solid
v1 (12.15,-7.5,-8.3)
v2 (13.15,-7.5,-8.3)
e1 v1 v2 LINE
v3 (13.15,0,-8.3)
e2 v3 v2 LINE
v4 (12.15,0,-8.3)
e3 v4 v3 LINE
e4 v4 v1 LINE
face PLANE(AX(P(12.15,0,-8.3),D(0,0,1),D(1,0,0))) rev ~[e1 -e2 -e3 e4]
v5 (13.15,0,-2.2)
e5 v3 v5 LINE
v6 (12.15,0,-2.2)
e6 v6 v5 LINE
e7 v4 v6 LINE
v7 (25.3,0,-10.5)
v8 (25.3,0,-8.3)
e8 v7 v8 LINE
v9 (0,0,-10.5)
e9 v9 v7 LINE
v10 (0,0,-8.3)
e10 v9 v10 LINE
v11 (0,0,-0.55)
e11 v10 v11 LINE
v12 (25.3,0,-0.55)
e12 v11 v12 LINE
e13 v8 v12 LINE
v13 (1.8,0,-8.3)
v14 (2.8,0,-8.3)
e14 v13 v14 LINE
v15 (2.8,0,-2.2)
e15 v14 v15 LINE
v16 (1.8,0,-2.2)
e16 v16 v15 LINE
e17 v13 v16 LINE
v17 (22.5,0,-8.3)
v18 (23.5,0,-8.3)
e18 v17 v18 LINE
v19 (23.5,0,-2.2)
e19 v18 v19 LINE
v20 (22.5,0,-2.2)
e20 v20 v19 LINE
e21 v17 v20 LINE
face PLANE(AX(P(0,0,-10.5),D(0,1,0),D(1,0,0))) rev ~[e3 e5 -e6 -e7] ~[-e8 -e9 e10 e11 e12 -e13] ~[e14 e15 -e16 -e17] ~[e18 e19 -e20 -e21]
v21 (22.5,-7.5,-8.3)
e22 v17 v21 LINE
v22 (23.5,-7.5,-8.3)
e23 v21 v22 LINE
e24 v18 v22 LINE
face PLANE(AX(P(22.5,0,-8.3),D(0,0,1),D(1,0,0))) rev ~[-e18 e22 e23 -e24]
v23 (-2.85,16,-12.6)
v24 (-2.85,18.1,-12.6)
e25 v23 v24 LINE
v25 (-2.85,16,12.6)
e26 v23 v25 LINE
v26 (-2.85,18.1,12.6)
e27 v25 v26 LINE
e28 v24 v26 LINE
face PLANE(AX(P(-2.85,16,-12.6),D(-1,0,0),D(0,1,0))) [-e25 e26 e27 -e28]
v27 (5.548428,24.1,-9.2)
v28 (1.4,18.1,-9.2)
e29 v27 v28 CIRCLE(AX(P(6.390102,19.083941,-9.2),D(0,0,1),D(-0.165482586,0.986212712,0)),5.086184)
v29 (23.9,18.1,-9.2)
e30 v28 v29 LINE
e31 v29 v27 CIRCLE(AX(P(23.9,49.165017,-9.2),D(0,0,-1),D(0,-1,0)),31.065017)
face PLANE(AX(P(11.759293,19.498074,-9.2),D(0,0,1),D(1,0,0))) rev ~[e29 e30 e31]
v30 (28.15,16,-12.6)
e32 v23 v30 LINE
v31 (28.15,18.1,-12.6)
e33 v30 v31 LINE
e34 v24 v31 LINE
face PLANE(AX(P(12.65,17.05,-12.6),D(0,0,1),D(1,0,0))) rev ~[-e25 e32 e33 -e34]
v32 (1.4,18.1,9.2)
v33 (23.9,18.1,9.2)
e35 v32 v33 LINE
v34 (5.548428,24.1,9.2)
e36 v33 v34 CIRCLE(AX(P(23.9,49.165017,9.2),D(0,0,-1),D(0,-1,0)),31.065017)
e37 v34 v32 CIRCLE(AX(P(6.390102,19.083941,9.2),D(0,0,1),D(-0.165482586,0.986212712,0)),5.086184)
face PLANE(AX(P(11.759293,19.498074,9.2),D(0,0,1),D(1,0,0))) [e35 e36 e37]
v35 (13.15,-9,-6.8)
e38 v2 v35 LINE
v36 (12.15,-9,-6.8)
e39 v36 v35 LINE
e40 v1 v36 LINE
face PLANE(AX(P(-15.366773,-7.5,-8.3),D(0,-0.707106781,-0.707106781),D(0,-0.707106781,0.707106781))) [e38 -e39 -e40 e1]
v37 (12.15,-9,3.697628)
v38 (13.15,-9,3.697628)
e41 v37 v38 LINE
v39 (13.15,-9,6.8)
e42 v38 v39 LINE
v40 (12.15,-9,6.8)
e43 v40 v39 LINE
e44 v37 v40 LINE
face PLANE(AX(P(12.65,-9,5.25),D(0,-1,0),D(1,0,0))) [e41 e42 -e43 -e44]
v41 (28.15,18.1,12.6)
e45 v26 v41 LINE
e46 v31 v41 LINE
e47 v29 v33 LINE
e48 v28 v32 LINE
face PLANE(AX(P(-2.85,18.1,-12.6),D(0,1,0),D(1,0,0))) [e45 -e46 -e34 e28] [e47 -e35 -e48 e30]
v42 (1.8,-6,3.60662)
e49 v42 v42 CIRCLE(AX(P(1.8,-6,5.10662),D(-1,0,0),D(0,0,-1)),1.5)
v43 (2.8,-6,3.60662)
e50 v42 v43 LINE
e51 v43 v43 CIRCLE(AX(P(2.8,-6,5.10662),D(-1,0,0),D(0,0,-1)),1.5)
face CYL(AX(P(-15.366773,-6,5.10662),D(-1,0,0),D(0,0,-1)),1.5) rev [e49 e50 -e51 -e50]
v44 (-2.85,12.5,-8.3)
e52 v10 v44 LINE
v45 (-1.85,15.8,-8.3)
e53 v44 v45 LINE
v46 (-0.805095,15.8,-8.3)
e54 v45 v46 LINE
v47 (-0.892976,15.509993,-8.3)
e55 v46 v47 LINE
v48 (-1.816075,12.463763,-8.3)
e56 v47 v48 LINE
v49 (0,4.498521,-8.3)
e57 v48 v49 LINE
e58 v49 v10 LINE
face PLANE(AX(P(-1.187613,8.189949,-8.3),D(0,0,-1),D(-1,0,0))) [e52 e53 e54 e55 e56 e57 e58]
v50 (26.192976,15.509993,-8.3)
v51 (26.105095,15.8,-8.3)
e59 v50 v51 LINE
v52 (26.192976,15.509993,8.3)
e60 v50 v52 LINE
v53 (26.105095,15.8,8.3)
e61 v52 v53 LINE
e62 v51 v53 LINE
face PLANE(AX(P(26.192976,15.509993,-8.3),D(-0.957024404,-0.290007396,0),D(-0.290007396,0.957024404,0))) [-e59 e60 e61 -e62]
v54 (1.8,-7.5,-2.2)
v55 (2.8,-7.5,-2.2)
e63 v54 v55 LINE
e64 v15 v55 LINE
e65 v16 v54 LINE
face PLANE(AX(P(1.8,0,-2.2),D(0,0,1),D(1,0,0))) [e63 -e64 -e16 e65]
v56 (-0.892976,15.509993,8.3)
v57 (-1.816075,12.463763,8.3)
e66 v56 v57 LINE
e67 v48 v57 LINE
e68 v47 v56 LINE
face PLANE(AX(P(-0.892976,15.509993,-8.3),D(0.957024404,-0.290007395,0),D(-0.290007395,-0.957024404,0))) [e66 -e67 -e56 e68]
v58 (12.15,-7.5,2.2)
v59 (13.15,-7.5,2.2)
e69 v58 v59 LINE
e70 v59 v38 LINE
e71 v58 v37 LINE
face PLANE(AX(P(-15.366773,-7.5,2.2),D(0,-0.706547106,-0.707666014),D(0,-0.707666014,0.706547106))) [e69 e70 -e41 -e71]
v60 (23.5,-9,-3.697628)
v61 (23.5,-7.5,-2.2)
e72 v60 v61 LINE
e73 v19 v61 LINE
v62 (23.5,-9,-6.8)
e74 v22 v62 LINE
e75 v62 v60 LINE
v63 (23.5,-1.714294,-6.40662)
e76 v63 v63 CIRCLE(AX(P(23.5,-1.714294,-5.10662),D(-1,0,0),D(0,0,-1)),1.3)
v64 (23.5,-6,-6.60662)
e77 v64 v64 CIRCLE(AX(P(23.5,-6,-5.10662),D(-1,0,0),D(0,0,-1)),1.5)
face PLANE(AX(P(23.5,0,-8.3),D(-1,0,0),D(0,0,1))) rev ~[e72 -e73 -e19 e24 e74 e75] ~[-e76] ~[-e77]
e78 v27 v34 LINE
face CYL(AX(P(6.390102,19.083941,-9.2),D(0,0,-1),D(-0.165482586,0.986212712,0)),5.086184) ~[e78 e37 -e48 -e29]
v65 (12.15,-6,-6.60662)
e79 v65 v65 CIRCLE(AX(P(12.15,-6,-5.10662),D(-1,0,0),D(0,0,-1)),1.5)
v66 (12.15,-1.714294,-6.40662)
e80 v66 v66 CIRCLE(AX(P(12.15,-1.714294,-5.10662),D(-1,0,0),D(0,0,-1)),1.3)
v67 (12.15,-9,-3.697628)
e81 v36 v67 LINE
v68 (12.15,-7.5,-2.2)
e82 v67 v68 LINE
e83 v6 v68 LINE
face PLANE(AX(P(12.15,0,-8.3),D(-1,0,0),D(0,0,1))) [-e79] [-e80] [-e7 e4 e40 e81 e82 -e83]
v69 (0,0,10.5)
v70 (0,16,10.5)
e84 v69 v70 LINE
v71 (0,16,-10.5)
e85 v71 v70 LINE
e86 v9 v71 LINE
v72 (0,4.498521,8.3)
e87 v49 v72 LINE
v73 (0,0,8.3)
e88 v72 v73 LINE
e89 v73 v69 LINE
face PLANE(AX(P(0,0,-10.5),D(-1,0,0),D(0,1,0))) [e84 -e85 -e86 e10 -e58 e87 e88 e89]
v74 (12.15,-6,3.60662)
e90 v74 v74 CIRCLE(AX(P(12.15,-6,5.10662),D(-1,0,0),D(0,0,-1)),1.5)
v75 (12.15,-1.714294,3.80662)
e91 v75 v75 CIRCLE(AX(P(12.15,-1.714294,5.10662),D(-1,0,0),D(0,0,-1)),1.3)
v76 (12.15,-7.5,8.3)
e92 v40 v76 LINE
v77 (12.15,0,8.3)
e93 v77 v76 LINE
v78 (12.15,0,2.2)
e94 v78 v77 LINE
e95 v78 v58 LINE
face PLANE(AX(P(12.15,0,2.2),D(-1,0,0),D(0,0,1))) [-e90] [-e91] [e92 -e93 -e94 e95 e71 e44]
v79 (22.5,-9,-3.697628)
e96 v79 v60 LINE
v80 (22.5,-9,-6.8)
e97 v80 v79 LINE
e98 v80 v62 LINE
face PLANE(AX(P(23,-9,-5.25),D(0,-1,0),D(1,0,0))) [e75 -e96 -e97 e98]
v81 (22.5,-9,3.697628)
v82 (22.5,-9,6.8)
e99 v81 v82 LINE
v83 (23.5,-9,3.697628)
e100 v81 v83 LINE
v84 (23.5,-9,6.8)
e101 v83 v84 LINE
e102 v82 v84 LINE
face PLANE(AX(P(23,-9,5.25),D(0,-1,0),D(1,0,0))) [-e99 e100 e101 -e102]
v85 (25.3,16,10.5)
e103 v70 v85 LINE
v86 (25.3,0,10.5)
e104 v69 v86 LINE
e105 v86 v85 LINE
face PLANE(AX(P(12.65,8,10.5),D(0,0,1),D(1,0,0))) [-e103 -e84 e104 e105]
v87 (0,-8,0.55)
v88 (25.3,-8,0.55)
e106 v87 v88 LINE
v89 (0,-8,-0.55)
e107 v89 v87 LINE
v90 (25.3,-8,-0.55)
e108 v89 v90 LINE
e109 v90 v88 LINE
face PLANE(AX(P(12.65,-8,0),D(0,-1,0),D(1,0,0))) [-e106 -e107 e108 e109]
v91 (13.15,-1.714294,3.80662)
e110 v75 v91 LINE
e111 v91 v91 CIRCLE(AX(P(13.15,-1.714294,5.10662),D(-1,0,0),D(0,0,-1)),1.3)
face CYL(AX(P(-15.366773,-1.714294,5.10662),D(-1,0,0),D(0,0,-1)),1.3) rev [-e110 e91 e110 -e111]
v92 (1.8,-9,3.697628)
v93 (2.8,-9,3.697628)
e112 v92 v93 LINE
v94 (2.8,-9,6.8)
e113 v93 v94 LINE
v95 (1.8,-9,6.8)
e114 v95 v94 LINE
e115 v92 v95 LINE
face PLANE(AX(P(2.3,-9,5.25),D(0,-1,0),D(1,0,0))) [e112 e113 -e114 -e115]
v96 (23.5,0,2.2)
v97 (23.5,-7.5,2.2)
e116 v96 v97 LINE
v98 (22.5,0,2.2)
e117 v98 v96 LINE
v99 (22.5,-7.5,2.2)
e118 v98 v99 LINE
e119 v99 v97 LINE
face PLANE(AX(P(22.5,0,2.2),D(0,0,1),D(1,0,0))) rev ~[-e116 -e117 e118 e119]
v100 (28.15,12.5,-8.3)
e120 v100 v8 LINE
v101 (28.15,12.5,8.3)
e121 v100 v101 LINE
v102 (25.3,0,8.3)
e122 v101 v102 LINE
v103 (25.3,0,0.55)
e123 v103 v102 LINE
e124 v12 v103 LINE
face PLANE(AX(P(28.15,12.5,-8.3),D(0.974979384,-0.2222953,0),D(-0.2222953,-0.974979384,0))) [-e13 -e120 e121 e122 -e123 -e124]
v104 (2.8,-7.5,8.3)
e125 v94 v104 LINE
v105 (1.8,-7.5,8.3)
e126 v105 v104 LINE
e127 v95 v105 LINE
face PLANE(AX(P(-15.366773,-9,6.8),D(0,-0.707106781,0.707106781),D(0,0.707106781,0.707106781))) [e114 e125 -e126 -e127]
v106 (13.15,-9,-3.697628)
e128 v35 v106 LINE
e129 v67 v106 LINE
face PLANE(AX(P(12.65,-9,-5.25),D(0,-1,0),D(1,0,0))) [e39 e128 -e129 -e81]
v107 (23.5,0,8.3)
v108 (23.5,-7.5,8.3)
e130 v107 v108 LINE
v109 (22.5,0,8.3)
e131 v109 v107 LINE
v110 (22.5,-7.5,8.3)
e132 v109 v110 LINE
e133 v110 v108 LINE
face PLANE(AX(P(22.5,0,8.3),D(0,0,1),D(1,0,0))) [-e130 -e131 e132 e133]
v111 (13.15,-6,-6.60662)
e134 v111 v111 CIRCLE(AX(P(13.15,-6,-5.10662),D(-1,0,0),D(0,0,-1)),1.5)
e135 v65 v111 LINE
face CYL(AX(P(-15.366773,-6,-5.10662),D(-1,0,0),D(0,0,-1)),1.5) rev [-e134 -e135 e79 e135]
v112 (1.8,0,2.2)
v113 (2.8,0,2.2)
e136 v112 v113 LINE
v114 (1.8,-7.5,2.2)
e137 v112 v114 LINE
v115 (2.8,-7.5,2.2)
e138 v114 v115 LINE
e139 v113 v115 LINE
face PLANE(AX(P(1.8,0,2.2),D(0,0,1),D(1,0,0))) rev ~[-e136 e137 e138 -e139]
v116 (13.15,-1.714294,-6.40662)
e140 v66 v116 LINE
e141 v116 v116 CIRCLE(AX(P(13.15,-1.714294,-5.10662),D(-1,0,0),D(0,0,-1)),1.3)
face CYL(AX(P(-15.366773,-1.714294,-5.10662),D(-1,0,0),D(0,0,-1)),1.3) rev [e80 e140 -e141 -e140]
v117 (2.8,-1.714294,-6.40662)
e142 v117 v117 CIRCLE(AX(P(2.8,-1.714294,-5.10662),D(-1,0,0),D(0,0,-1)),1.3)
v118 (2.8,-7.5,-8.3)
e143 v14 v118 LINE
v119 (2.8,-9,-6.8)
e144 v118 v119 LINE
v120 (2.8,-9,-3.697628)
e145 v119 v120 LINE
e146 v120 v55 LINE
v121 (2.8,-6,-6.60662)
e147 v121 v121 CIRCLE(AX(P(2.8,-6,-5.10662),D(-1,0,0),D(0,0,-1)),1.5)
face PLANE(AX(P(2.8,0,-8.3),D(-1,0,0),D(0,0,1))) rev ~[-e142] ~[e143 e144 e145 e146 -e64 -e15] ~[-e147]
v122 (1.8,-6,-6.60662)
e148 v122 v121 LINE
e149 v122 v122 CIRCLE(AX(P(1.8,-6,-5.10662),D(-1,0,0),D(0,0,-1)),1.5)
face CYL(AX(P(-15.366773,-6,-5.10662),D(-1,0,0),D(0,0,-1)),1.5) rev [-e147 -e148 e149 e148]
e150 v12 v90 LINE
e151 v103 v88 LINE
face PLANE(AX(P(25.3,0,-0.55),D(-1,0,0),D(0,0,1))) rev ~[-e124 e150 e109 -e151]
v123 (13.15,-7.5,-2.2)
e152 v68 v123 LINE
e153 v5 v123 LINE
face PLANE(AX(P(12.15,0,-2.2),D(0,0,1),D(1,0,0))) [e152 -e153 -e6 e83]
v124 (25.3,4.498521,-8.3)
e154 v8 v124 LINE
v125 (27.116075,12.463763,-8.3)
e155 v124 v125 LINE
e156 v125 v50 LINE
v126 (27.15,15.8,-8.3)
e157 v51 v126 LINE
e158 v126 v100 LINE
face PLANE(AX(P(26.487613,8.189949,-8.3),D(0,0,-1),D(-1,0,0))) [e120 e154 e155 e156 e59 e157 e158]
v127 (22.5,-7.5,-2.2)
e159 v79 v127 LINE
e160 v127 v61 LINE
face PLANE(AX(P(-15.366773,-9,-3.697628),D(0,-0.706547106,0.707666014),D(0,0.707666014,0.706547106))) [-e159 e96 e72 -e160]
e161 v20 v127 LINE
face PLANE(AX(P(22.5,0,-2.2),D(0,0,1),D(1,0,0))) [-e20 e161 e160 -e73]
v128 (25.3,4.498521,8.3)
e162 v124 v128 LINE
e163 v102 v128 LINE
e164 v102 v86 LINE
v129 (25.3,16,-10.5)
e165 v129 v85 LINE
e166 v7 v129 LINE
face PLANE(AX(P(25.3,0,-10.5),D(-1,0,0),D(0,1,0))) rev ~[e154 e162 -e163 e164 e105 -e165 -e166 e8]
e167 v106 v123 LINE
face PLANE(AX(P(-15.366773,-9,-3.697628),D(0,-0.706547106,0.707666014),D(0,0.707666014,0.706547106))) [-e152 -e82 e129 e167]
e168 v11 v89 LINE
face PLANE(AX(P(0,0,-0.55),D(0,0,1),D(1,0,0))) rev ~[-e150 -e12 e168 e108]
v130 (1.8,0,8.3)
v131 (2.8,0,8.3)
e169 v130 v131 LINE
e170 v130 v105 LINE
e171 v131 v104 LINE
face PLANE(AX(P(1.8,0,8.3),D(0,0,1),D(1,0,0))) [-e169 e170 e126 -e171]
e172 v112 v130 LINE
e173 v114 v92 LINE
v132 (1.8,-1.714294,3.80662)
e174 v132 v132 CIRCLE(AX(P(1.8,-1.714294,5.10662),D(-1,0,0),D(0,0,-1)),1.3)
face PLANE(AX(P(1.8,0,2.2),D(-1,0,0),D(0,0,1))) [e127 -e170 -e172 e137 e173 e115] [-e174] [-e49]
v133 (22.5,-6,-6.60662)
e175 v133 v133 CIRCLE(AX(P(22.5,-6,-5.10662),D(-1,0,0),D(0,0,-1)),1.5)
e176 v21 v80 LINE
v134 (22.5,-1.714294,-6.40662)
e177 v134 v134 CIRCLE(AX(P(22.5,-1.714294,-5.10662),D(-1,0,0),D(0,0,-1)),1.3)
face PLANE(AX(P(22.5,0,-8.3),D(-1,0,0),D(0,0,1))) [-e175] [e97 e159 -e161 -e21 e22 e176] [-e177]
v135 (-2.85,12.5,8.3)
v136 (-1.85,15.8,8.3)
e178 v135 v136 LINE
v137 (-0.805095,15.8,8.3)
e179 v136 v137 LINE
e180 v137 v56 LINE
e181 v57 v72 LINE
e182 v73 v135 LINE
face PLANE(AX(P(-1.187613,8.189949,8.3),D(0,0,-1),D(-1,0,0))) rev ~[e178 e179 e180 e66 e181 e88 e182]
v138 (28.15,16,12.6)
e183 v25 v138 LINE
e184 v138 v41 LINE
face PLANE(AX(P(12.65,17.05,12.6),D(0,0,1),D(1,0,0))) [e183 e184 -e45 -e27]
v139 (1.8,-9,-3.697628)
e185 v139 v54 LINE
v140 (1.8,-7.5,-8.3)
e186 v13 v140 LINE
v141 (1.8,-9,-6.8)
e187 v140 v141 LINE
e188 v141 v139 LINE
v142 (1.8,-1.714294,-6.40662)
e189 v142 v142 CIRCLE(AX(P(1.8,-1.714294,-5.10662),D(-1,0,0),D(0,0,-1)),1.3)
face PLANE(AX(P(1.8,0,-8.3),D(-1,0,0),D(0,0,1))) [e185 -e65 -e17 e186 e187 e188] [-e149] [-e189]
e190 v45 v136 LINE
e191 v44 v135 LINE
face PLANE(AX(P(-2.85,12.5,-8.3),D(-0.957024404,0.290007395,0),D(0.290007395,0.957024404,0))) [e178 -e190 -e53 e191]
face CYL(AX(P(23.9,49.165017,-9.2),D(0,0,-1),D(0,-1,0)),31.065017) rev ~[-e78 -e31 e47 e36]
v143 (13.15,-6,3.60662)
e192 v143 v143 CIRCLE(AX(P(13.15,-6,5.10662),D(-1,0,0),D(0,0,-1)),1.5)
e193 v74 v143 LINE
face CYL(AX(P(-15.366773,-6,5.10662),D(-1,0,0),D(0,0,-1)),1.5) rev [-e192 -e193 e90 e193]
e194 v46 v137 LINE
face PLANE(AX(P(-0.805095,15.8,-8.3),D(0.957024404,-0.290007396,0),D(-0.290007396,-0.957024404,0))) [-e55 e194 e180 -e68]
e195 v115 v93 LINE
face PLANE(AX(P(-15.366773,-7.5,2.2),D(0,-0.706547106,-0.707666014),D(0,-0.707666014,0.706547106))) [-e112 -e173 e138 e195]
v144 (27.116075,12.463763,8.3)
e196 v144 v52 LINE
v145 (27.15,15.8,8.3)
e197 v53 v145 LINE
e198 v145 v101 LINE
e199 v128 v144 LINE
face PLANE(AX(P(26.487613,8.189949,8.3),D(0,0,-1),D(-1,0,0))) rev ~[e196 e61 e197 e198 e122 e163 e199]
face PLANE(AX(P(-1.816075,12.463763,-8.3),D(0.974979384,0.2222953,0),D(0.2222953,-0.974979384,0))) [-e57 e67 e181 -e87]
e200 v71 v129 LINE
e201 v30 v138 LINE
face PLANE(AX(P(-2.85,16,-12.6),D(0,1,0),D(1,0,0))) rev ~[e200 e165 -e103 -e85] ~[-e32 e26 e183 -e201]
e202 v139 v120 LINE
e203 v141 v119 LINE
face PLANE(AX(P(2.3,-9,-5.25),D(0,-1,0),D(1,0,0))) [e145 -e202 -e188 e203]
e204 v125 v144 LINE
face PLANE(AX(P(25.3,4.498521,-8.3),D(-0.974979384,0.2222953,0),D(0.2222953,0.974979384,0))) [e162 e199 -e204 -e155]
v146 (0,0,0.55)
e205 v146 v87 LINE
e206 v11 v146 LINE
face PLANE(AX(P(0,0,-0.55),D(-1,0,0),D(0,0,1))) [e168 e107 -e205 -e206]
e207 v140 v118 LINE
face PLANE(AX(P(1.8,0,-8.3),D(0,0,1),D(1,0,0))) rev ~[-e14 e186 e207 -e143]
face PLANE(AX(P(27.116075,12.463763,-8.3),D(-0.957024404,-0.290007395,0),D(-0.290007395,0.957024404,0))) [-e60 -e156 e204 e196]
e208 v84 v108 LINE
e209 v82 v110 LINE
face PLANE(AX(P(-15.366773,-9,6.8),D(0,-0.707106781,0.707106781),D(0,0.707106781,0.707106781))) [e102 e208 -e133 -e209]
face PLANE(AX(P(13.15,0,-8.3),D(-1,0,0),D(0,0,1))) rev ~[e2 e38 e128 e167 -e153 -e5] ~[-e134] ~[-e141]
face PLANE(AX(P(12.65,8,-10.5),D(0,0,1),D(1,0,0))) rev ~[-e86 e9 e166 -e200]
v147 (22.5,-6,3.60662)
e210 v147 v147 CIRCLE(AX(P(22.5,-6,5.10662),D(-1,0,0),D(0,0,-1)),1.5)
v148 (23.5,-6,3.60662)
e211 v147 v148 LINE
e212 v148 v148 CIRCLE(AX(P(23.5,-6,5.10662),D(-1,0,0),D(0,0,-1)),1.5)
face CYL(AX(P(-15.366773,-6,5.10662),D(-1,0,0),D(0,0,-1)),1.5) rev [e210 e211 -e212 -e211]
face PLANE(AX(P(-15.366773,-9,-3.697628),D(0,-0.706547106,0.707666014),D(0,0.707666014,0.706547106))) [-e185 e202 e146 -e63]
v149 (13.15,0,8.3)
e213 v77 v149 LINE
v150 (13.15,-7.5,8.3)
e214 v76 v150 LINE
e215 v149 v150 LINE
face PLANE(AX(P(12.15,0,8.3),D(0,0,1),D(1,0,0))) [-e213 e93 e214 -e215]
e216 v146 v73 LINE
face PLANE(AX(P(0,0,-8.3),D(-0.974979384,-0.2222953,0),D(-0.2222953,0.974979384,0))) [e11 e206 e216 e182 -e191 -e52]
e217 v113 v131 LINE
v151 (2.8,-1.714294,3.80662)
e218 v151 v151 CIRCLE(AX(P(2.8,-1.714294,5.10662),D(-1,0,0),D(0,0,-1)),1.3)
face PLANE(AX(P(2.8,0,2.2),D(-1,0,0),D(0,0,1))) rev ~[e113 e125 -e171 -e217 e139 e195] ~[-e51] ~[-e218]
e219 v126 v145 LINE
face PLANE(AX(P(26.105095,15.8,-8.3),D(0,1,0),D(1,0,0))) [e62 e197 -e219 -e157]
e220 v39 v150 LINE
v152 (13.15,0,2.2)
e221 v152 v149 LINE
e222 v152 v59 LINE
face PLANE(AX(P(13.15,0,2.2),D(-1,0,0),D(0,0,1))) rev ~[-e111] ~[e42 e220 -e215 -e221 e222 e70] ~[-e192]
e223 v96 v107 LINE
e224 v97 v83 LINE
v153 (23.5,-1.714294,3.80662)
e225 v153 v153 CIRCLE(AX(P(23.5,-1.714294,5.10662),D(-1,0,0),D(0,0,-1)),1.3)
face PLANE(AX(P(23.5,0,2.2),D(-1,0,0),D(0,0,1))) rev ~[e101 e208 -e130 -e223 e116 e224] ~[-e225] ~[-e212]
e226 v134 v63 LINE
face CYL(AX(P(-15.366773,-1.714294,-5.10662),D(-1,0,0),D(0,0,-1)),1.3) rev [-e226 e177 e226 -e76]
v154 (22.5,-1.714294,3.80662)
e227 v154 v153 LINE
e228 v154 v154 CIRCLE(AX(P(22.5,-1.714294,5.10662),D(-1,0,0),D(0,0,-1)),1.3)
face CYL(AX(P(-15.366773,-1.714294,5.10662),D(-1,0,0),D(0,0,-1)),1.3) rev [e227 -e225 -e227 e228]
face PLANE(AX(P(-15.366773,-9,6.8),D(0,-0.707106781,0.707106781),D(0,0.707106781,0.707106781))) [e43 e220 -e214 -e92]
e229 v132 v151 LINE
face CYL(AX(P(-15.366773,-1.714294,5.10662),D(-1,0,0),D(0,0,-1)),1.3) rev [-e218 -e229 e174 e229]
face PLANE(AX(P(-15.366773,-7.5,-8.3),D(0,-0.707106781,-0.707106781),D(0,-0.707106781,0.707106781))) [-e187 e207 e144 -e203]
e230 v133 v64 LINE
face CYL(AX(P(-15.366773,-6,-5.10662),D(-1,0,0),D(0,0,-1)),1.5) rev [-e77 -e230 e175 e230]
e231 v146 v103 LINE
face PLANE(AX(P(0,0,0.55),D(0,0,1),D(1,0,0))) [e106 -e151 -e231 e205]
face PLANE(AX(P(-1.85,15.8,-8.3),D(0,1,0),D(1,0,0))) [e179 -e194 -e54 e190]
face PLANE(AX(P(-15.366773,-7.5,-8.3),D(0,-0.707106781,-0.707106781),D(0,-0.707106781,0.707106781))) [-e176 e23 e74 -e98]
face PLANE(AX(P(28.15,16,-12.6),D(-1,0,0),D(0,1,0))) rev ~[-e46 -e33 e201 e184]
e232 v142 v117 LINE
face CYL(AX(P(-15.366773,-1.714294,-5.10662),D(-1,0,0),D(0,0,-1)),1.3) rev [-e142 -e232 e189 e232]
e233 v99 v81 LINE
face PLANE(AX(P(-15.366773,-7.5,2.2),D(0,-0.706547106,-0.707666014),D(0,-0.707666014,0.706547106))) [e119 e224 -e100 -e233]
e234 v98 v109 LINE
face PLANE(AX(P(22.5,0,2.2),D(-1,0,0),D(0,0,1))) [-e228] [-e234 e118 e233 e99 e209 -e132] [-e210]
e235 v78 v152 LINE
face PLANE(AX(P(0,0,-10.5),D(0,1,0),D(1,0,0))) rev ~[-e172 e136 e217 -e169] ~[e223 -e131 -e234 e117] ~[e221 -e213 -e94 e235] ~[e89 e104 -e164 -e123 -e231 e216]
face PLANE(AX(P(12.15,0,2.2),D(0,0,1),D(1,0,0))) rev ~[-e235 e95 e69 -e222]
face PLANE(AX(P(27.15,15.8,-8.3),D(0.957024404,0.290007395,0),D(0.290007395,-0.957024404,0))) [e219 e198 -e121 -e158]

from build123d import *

# Parameters (mm, degrees)
EXTRUDE_1_DEPTH          = 10.5
EXTRUDE_1_DEPTH_BACK     = 10.5
SKETCH_1_W               = 25.3
SKETCH_1_H               = 16
EXTRUDE_2_DEPTH          = 12.6
EXTRUDE_2_DEPTH_BACK     = 12.6
SKETCH_2_W               = 31
SKETCH_2_H               = 2.1
EXTRUDE_3_DEPTH          = 9.2
EXTRUDE_3_DEPTH_BACK     = 9.2
EXTRUDE_4_DEPTH          = 8.3
EXTRUDE_4_DEPTH_BACK     = 8.3
SKETCH_5_W               = 1
SKETCH_5_H               = 6.1
EXTRUDE_5_DEPTH          = 9
SKETCH_6_W               = 25.3
SKETCH_6_H               = 1.1
EXTRUDE_6_DEPTH          = 8
CUT_EXTRUDE_1_DEPTH      = 38.866773034
CUT_EXTRUDE_1_DEPTH_BACK = 38.866773034
SKETCH_7_R               = 1.5
SKETCH_7_R_2             = 1.3


with BuildPart() as part:
    # 草图1 → 凸台-拉伸1 (new, two sides: drawn at the far end of the back side and taken through both)
    with BuildSketch(Plane.XY.offset(-EXTRUDE_1_DEPTH_BACK)):
        with Locations((12.65, 8)):
            Rectangle(SKETCH_1_W, SKETCH_1_H)
    extrude(amount=EXTRUDE_1_DEPTH + EXTRUDE_1_DEPTH_BACK)

    # 草图2 → 凸台-拉伸2 (add, two sides: drawn at the far end of the back side and taken through both)
    with BuildSketch(Plane.XY.offset(-EXTRUDE_2_DEPTH_BACK)):
        with Locations((12.65, 17.05)):
            Rectangle(SKETCH_2_W, SKETCH_2_H)
    extrude(amount=EXTRUDE_2_DEPTH + EXTRUDE_2_DEPTH_BACK)

    # 草图3 → 凸台-拉伸3 (add, two sides: drawn at the far end of the back side and taken through both)
    with BuildSketch(Plane.XY.offset(-EXTRUDE_3_DEPTH_BACK)):
        with BuildLine():
            Line((1.4, 18.1), (23.9, 18.1))
            ThreePointArc((23.9, 18.1), (14.246241567, 19.638076247), (5.548427655, 24.1))
            ThreePointArc((5.548427655, 24.1), (2.206514702, 21.976493018), (1.4, 18.1))
        make_face()
    extrude(amount=EXTRUDE_3_DEPTH + EXTRUDE_3_DEPTH_BACK)

    # 草图4 → 凸台-拉伸4 (add, two sides: drawn at the far end of the back side and taken through both)
    with BuildSketch(Plane.XY.offset(-EXTRUDE_4_DEPTH_BACK)):
        Polygon((0, 0), (-2.85, 12.5), (-1.85, 15.8), (-0.805094567, 15.8), (-0.892975596, 15.509992605), (-1.816075348, 12.463763423), (0, 4.498520669), align=None)
        Polygon((25.3, 0), (25.3, 4.498520669), (27.116075348, 12.463763423), (26.192975596, 15.509992605), (26.105094567, 15.8), (27.15, 15.8), (28.15, 12.5), align=None)
    extrude(amount=EXTRUDE_4_DEPTH + EXTRUDE_4_DEPTH_BACK)

    # 草图5 → 凸台-拉伸5 (add)
    with BuildSketch(Plane.XZ):
        with Locations((23, -5.25)):
            Rectangle(SKETCH_5_W, SKETCH_5_H)
        with Locations((12.65, -5.25)):
            Rectangle(SKETCH_5_W, SKETCH_5_H)
        with Locations((2.3, -5.25)):
            Rectangle(SKETCH_5_W, SKETCH_5_H)
        with Locations((2.3, 5.25)):
            Rectangle(SKETCH_5_W, SKETCH_5_H)
        with Locations((12.65, 5.25)):
            Rectangle(SKETCH_5_W, SKETCH_5_H)
        with Locations((23, 5.25)):
            Rectangle(SKETCH_5_W, SKETCH_5_H)
    extrude(amount=EXTRUDE_5_DEPTH)

    # 草图6 → 凸台-拉伸6 (add)
    with BuildSketch(Plane.XZ):
        with Locations((12.65, 0)):
            Rectangle(SKETCH_6_W, SKETCH_6_H)
    extrude(amount=EXTRUDE_6_DEPTH)

    # 草图7 → 切除-拉伸1 (cut, two sides: drawn at the far end of the back side and taken through both)
    with BuildSketch(Plane(origin=(23.5, 0, 0), x_dir=(0, 0, -1), z_dir=(1, 0, 0)).offset(-CUT_EXTRUDE_1_DEPTH_BACK)):
        with Locations((-5.106619867, -6)):
            Circle(SKETCH_7_R)
        with Locations((-5.106619867, -1.714294339)):
            Circle(SKETCH_7_R_2)
        Polygon((-6.8, -9), (-8.3, -7.5), (-8.3, -9), align=None)
        Polygon((2.2, -7.5), (2.2, -9), (3.697628314, -9), align=None)
        Polygon((-2.2, -7.5), (-3.697628314, -9), (-2.2, -9), align=None)
        Polygon((8.3, -7.5), (6.8, -9), (8.3, -9), align=None)
        with Locations((5.106619867, -6)):
            Circle(SKETCH_7_R)
        with Locations((5.106619867, -1.714294339)):
            Circle(SKETCH_7_R_2)
    extrude(amount=CUT_EXTRUDE_1_DEPTH + CUT_EXTRUDE_1_DEPTH_BACK, mode=Mode.SUBTRACT)


solid = part.part
